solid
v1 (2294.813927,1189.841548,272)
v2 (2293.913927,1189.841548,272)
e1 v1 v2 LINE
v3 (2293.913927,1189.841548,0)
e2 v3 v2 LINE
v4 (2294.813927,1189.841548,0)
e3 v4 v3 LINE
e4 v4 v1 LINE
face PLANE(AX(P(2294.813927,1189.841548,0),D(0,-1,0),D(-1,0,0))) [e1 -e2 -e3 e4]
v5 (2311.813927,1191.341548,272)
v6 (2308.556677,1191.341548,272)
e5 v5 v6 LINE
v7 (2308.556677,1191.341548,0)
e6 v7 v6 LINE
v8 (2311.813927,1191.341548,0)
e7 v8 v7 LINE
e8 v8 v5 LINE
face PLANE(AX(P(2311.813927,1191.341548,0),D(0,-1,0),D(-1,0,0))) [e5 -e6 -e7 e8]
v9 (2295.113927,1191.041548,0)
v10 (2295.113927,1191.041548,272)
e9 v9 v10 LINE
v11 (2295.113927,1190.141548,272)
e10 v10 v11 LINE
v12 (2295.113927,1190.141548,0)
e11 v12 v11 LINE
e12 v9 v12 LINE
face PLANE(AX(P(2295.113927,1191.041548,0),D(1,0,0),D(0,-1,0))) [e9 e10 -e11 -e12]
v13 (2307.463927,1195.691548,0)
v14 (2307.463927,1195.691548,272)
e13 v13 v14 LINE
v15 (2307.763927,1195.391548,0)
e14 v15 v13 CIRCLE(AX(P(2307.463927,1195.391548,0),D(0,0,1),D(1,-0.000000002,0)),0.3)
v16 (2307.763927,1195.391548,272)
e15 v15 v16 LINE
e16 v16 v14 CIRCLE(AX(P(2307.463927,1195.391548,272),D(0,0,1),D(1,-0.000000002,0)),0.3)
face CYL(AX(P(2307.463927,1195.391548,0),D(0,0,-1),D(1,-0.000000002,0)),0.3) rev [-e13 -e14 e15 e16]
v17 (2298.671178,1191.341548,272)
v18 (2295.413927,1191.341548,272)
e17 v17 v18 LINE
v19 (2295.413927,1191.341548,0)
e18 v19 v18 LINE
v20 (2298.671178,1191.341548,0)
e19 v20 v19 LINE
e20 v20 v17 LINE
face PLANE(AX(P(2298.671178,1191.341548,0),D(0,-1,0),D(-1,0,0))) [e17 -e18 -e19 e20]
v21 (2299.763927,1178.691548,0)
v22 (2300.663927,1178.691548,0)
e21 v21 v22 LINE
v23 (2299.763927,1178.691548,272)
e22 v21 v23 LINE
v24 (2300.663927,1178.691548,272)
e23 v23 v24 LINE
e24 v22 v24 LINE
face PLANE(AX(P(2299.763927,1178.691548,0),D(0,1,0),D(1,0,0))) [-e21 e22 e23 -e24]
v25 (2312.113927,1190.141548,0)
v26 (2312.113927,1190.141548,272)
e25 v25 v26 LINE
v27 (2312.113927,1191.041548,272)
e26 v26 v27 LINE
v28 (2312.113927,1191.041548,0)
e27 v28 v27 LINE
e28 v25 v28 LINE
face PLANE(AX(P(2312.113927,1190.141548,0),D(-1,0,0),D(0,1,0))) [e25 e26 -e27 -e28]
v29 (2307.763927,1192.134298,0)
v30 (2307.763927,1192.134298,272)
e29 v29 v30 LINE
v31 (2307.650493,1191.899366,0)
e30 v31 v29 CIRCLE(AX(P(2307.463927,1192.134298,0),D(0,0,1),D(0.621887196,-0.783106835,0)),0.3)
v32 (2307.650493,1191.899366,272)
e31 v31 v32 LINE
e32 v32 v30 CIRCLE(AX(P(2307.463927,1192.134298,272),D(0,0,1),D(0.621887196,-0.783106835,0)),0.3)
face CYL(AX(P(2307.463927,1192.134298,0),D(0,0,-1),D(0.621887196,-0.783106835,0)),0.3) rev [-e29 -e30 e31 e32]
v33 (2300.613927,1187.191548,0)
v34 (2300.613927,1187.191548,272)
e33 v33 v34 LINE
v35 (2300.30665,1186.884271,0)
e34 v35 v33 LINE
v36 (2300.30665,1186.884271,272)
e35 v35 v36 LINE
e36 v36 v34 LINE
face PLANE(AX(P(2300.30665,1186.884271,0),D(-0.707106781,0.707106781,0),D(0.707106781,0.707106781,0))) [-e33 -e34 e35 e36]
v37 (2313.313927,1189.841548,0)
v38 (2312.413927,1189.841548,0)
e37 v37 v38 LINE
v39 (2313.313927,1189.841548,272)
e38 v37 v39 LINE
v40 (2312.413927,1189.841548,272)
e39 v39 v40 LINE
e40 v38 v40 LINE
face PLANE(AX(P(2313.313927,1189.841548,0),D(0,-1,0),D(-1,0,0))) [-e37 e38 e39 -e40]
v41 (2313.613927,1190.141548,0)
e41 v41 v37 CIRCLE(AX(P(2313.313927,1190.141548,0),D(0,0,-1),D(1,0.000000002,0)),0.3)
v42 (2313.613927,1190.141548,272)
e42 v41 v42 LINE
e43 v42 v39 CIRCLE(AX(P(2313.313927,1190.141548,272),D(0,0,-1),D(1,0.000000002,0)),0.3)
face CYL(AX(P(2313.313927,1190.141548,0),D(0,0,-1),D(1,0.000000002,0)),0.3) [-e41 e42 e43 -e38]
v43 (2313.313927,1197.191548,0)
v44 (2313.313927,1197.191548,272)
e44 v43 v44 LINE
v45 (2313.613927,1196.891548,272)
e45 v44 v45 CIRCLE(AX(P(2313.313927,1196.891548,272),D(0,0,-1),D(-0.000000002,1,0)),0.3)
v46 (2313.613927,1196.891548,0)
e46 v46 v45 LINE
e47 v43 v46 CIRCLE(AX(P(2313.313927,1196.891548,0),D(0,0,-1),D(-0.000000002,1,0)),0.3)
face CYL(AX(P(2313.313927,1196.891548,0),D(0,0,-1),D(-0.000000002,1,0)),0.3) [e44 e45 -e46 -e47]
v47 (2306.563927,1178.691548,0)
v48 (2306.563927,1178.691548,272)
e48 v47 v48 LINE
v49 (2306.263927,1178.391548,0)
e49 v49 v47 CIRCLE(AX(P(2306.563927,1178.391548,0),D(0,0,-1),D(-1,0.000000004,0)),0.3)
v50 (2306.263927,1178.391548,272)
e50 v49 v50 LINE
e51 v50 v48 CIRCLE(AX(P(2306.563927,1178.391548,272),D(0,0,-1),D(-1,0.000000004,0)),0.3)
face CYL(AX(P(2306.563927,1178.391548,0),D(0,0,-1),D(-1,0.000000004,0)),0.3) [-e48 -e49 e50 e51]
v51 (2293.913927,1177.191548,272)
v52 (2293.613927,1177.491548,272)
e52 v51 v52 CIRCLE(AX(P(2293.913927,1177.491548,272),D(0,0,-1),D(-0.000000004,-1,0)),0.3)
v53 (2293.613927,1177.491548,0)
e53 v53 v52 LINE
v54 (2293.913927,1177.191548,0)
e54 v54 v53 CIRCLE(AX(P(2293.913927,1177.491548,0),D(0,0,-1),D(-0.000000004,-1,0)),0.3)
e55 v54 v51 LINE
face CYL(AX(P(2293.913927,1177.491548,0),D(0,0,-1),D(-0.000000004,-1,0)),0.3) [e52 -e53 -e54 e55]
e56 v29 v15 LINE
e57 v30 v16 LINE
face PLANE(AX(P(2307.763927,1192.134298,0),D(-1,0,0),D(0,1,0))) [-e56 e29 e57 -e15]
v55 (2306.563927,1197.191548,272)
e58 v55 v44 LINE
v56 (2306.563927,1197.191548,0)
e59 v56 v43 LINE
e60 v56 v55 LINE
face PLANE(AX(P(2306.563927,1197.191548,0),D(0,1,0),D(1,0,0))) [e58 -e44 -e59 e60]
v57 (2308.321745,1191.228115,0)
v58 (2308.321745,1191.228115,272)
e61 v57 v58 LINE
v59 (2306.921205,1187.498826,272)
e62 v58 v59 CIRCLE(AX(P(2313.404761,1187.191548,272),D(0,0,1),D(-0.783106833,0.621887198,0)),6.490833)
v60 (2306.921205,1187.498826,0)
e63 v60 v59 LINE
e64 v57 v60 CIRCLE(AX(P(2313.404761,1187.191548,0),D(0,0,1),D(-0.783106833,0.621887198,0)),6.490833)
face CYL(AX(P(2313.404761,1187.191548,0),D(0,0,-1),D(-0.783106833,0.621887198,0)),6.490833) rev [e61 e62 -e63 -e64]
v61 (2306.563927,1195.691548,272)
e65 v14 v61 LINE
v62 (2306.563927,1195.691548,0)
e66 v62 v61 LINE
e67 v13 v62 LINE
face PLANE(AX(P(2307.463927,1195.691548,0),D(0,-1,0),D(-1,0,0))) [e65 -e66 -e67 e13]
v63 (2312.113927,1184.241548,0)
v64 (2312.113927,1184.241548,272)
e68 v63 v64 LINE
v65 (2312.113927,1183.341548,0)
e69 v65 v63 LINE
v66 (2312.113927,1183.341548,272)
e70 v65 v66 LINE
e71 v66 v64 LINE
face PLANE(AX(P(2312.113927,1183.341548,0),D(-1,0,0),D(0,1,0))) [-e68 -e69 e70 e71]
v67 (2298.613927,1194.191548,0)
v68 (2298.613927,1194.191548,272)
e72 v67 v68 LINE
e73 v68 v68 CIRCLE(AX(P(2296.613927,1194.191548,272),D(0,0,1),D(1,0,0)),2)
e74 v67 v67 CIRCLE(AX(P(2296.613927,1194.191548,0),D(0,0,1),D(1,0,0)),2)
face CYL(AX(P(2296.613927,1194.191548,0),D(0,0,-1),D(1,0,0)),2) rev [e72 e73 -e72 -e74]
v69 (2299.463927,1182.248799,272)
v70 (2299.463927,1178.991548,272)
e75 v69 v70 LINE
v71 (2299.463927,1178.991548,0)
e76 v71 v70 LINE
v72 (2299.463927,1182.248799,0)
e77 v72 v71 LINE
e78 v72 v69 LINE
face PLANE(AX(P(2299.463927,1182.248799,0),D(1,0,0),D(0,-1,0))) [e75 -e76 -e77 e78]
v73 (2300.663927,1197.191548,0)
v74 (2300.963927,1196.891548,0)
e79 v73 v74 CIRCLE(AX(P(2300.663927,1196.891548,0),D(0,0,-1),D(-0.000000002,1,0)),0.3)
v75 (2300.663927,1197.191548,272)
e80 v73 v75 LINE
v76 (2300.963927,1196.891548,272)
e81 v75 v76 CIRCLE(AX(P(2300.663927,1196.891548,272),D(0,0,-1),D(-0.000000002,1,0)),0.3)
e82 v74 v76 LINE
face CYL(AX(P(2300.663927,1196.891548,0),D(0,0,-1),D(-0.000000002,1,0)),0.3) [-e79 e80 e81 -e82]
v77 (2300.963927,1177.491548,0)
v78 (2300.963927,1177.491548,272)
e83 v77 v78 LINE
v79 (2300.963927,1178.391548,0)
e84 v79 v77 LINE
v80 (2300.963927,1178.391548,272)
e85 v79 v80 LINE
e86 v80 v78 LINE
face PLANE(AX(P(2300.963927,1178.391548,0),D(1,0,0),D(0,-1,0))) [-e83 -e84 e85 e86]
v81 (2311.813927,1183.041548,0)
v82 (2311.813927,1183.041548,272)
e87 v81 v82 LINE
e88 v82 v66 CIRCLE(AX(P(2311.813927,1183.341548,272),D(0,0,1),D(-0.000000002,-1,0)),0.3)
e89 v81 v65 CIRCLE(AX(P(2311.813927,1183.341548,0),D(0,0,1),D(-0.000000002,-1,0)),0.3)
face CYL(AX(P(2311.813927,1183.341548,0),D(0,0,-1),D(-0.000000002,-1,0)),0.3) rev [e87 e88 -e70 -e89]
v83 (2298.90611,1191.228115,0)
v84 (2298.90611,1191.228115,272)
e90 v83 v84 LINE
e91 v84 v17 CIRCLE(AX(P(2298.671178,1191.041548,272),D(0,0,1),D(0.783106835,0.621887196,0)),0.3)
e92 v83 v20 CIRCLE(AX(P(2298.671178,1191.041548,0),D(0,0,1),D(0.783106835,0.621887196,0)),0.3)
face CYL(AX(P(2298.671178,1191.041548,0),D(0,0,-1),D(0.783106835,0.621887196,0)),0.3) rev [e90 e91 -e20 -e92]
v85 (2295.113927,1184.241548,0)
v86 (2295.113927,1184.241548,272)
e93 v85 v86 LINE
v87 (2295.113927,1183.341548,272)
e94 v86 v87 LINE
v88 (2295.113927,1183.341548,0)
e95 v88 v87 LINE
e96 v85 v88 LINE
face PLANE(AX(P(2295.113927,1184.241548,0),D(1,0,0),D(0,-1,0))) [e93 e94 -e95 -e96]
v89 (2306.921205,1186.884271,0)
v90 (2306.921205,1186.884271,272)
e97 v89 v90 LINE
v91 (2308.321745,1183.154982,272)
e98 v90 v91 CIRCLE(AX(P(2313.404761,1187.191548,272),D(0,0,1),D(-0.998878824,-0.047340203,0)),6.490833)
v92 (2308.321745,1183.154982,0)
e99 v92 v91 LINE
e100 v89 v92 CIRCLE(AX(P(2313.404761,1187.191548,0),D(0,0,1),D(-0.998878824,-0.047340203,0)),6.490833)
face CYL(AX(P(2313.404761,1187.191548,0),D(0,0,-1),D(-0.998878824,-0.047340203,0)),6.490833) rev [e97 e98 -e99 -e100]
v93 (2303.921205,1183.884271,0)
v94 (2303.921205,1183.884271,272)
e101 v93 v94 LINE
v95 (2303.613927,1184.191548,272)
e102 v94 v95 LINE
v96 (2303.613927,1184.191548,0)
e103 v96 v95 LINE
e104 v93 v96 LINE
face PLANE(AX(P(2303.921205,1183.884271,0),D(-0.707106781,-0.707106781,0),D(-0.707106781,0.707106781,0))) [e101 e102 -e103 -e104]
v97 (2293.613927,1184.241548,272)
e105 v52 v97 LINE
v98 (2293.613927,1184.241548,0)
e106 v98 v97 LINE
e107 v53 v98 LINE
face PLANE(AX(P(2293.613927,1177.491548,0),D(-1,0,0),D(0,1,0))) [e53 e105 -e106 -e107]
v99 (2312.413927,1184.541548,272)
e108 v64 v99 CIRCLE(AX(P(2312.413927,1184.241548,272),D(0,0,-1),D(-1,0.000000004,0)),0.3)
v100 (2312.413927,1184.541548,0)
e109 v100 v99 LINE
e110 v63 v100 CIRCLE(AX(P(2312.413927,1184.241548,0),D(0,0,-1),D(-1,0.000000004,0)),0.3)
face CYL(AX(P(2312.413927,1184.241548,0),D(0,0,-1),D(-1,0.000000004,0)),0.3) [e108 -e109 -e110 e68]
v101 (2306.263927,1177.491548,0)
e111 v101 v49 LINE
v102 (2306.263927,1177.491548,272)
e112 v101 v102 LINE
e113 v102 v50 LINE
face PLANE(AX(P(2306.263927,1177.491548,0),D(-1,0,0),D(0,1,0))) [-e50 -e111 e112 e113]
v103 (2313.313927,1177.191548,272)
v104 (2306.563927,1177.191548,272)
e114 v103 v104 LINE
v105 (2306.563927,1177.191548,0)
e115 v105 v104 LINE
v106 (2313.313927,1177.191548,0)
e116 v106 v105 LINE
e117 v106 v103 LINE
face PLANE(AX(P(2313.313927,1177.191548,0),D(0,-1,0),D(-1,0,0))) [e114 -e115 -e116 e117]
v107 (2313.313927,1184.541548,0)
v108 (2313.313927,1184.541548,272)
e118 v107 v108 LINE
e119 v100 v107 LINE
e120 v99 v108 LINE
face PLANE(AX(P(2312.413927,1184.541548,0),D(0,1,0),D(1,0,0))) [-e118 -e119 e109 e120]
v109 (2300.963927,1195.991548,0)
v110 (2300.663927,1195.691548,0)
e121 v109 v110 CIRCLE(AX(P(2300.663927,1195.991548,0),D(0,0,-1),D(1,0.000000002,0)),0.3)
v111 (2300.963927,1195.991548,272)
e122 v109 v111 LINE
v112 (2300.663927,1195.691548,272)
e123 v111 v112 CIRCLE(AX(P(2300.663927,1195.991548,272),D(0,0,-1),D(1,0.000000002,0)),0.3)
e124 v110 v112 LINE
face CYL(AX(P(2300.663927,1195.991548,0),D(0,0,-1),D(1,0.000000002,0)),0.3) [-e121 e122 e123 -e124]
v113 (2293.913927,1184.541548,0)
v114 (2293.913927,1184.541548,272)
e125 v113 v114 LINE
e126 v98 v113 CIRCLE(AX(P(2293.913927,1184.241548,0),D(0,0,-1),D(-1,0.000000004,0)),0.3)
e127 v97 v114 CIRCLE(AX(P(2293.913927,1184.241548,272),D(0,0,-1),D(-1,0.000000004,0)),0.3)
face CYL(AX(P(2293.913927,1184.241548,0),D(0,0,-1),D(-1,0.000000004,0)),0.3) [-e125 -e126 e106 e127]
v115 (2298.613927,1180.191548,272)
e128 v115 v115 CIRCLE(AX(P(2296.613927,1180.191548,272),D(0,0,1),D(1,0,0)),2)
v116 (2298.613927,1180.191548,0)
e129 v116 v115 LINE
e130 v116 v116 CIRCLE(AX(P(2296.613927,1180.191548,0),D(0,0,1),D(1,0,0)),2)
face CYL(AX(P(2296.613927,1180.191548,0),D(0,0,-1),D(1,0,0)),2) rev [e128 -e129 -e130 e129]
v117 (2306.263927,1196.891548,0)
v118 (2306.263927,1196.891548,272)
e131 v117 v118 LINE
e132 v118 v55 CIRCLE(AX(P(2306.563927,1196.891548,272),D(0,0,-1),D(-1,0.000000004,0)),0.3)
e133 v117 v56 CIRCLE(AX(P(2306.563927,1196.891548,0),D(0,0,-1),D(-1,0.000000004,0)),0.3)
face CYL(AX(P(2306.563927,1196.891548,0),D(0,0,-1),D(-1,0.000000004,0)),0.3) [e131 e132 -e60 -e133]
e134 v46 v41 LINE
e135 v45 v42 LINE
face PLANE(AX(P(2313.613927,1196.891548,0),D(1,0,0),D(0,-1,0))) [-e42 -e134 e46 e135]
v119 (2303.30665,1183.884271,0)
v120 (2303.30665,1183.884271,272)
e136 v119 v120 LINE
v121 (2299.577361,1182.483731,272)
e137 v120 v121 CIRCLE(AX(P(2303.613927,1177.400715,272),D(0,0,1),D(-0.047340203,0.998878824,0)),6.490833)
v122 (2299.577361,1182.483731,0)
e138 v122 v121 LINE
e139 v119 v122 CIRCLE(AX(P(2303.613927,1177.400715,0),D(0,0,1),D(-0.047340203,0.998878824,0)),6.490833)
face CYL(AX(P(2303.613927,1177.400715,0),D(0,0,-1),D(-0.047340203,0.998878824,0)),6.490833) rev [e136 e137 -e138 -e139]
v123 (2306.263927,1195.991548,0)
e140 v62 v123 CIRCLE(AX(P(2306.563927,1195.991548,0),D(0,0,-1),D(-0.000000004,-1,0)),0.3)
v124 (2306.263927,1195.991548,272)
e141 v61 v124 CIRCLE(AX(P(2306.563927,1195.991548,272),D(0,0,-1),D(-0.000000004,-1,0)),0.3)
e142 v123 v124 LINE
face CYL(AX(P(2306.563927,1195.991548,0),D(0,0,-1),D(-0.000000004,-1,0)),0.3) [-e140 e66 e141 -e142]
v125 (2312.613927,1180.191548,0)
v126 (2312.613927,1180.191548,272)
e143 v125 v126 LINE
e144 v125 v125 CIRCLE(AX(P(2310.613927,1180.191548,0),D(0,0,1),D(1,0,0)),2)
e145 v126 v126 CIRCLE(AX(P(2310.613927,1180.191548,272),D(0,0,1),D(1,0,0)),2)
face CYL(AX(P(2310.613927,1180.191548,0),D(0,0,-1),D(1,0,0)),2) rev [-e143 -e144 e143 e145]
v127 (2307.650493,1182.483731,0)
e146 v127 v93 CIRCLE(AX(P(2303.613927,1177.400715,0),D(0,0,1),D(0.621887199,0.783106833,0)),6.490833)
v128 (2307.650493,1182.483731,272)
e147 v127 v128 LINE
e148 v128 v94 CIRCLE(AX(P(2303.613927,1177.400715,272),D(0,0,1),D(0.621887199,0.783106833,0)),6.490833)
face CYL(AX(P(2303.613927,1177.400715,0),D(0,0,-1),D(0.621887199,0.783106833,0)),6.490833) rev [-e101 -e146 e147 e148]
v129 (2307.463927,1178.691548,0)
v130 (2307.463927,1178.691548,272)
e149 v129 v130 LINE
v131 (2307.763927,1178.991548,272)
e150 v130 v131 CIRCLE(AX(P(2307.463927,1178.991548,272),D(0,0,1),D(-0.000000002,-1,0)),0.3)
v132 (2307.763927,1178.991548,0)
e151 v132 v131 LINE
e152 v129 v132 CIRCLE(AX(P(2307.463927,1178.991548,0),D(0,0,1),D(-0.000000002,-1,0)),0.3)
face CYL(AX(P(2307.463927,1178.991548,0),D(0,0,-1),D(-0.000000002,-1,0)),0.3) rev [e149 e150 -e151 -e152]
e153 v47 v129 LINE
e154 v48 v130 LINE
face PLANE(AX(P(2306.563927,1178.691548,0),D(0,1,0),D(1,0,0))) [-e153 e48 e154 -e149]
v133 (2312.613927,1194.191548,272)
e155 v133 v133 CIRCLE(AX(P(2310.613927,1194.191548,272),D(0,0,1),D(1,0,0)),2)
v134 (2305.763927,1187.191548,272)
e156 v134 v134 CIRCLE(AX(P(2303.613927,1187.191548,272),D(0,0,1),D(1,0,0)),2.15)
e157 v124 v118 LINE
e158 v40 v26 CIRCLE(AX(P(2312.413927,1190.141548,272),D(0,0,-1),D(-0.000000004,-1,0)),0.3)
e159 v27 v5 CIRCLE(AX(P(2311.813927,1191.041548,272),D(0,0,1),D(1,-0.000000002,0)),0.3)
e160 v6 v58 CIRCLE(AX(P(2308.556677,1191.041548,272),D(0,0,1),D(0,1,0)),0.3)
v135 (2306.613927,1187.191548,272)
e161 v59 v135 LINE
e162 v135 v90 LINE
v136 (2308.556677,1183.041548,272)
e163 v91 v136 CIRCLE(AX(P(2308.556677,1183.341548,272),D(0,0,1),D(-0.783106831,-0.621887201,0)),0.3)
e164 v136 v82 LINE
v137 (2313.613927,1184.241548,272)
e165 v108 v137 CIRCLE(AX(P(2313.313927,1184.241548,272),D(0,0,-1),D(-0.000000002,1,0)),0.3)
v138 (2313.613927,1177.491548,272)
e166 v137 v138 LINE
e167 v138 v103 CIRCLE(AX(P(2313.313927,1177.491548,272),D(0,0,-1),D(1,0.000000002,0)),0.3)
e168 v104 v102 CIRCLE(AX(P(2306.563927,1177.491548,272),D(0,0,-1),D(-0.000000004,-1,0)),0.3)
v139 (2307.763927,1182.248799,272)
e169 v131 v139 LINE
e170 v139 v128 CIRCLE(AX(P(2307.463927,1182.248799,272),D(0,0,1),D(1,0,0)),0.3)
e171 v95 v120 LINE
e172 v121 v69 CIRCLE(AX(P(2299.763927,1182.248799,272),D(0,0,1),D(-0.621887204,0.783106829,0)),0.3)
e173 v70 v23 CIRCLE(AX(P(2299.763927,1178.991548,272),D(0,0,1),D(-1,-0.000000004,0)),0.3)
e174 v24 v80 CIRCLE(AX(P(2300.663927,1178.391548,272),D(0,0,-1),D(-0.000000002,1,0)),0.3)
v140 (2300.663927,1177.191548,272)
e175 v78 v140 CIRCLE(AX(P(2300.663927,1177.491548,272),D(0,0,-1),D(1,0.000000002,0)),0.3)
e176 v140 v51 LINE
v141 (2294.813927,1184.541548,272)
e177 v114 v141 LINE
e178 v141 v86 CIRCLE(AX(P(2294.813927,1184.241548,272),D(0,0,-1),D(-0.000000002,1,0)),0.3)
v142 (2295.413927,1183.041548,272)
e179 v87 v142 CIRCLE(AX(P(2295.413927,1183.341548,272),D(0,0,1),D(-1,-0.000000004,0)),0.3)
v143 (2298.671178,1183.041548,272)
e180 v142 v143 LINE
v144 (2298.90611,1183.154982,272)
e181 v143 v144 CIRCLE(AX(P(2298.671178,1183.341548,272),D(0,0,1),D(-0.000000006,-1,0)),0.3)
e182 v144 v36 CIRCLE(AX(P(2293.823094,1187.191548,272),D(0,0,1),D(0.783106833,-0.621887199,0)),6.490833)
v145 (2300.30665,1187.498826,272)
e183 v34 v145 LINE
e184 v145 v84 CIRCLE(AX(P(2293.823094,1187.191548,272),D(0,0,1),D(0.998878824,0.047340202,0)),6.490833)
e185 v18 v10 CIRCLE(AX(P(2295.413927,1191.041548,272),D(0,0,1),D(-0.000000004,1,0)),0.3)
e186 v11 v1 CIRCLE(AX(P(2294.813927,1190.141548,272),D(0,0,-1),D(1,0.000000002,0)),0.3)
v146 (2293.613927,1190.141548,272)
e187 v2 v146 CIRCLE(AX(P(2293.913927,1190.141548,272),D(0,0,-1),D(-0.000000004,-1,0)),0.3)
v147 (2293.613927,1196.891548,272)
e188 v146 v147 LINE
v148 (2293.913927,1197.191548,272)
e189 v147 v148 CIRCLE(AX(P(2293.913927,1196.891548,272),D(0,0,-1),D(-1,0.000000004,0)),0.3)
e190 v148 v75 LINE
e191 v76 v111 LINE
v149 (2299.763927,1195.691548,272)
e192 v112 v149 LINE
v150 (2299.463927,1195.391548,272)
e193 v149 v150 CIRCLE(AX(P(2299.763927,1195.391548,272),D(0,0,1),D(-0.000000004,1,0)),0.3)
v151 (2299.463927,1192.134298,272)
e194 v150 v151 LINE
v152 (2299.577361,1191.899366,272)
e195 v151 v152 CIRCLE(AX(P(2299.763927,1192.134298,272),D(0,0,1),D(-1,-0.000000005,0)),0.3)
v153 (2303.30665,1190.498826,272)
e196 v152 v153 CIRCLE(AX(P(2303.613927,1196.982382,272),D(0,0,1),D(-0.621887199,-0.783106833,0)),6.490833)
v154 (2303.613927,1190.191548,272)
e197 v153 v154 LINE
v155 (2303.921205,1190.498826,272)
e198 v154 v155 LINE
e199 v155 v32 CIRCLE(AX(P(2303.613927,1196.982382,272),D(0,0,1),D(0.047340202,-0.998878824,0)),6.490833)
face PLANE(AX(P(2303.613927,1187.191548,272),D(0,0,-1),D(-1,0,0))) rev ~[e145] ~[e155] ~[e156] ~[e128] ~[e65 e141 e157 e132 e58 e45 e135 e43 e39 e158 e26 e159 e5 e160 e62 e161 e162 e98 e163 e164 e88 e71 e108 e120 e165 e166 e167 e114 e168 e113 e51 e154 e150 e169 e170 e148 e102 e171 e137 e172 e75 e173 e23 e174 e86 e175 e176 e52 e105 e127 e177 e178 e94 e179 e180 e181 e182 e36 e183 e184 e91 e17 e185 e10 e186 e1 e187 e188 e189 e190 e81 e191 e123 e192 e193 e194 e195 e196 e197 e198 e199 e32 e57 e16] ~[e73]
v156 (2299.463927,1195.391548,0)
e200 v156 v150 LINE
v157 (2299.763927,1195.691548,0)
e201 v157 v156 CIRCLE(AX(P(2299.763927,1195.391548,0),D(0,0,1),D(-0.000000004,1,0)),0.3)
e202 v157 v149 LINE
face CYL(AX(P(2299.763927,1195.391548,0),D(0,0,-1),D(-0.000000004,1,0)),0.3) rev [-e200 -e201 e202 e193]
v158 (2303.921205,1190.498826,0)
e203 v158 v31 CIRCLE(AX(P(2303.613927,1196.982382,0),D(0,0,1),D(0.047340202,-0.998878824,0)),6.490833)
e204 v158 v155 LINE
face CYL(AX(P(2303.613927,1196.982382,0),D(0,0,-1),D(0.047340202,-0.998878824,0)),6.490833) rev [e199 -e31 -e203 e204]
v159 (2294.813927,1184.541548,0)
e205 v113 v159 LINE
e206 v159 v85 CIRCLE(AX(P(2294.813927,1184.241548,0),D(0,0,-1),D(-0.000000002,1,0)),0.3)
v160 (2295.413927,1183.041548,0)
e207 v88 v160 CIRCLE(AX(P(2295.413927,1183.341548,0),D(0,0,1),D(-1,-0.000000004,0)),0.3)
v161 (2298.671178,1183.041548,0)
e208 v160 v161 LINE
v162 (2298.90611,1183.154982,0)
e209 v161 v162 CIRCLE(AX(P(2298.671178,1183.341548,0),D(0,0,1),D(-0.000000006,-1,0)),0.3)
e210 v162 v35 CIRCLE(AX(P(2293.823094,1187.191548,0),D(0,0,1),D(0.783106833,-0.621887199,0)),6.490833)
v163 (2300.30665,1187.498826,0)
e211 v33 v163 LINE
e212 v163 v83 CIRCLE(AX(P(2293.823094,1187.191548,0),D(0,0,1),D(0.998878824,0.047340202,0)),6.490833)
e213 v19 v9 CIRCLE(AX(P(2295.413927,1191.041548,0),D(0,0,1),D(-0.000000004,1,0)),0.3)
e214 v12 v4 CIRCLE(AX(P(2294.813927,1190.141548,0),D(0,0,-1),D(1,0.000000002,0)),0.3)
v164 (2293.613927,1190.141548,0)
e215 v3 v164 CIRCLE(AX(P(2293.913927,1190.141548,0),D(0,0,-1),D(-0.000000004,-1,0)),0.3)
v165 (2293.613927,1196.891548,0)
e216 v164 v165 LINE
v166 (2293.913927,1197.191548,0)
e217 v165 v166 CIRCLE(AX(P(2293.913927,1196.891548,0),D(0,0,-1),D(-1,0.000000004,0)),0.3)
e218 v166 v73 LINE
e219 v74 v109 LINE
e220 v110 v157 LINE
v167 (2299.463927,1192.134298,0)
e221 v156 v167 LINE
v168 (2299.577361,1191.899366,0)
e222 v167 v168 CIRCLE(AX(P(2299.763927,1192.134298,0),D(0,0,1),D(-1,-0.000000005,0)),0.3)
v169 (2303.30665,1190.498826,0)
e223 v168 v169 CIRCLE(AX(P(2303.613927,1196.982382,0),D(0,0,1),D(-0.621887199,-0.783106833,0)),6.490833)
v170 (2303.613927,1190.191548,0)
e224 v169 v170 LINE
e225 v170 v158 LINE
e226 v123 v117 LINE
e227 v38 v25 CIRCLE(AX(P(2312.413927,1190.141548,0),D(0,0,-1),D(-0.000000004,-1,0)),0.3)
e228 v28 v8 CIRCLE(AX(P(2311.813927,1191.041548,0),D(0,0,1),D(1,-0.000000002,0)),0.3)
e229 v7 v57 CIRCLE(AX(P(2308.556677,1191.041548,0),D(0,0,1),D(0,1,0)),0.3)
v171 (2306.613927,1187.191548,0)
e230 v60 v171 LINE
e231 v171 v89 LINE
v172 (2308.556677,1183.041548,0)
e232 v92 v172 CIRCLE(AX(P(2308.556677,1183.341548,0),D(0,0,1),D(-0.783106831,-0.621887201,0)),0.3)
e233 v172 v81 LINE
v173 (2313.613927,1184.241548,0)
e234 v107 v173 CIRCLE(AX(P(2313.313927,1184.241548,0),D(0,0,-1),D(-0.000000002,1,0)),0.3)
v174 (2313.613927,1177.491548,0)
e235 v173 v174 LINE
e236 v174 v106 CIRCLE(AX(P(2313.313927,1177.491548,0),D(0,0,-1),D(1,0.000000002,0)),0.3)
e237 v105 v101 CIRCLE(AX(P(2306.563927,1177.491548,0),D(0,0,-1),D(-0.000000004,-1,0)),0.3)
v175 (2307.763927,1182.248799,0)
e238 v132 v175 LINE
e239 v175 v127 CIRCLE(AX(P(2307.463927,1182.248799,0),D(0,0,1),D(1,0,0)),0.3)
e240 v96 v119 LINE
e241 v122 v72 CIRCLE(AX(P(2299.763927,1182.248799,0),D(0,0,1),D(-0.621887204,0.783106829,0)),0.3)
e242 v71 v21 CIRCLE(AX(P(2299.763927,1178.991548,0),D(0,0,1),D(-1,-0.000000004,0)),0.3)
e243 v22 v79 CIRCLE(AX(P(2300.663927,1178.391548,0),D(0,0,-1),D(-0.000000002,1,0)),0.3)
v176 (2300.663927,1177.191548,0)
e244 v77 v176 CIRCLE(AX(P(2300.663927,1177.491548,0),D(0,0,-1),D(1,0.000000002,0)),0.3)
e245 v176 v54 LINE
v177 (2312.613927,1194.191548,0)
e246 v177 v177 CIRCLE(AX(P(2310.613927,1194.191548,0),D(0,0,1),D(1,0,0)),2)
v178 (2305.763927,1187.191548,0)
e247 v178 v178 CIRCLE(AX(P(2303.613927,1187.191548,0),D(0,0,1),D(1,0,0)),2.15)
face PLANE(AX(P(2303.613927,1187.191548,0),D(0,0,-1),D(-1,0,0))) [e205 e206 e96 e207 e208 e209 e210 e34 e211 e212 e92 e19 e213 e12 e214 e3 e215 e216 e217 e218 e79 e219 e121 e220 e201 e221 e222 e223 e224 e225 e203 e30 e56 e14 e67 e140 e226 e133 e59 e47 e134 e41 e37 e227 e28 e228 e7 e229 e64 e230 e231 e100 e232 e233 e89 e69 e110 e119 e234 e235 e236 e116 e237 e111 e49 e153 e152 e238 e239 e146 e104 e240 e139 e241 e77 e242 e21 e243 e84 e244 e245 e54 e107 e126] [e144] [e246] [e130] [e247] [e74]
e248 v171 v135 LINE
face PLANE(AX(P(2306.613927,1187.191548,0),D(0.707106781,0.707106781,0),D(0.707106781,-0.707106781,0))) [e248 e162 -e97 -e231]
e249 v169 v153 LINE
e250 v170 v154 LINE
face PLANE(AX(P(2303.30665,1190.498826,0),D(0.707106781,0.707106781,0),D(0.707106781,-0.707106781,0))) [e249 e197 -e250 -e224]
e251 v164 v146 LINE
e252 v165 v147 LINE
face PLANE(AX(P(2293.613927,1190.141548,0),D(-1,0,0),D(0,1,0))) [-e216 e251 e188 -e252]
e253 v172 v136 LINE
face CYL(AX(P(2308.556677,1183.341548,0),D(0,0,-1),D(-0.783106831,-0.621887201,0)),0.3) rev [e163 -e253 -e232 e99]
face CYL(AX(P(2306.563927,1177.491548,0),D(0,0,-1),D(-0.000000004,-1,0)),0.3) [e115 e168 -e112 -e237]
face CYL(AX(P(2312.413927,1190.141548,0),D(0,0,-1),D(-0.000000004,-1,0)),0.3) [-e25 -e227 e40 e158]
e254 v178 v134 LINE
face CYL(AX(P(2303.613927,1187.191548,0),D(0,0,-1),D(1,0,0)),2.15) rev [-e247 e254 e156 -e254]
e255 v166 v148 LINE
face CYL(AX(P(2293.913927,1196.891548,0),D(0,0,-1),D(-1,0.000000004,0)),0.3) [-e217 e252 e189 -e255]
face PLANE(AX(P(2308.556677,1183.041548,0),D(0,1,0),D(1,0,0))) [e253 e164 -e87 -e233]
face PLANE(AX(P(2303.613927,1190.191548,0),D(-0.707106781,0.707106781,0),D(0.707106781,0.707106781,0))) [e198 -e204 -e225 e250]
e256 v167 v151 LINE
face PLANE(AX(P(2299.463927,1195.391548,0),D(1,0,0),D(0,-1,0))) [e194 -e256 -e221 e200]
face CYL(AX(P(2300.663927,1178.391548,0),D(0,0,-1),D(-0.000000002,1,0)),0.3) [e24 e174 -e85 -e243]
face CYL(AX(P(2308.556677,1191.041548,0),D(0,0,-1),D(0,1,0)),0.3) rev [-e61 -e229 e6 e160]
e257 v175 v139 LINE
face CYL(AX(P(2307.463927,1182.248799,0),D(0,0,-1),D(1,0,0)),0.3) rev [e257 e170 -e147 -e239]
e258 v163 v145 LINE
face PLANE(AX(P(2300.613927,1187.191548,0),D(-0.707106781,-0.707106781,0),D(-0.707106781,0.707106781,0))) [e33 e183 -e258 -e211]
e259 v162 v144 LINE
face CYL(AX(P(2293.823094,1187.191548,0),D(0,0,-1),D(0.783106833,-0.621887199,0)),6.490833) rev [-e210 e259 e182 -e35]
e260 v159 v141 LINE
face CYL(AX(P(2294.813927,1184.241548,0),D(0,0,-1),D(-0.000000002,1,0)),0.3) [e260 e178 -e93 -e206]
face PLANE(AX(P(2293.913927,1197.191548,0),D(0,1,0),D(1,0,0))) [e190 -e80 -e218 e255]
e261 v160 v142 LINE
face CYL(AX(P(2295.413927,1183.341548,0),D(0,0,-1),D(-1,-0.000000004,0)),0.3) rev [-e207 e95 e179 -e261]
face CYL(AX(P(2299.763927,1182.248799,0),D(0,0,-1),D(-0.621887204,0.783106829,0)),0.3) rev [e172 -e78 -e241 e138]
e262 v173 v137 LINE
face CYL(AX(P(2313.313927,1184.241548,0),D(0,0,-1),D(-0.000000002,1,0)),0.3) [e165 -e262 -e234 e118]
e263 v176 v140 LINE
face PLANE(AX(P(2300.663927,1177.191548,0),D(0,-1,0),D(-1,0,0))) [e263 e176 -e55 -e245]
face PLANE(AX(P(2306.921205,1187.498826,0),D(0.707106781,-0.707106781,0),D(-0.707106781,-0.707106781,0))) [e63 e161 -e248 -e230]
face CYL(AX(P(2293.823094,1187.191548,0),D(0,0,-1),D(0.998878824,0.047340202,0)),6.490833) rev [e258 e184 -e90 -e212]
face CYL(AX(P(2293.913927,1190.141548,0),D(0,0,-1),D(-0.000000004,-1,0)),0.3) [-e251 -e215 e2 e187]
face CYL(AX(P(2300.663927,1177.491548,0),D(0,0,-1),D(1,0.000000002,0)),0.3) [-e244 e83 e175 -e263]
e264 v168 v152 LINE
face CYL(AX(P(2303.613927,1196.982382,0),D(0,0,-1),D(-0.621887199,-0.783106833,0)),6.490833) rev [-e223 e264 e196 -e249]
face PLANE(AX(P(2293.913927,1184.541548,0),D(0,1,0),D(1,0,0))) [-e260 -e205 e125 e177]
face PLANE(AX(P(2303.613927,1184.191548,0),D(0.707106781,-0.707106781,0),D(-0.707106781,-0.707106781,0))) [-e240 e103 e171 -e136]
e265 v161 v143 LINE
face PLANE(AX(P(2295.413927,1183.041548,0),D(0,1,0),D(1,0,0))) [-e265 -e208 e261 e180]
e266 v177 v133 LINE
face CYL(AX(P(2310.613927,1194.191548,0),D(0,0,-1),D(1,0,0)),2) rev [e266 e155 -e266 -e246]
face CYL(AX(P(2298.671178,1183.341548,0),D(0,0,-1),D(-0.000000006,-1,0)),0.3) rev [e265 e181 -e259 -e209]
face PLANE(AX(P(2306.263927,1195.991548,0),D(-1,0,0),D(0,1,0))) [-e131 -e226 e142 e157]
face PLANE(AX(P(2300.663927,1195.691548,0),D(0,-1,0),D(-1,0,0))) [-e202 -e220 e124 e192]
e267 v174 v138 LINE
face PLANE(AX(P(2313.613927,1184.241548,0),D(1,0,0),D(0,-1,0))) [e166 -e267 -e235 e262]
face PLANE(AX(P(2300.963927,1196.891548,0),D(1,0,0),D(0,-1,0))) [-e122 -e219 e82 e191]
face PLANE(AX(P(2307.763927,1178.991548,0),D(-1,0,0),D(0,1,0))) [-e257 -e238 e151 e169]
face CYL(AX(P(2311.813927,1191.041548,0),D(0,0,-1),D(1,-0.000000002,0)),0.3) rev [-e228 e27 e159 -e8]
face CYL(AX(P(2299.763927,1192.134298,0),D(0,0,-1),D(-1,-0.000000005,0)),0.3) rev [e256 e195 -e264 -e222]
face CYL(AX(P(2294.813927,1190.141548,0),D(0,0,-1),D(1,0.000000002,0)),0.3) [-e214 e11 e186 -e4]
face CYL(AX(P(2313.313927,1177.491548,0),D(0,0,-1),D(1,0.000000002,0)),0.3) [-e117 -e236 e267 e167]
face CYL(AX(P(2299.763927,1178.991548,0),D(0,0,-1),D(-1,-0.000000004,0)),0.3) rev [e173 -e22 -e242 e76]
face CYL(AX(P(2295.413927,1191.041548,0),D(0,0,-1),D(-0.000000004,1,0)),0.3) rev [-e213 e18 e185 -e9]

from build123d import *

# Parameters (mm, degrees)
MODEL_R         = 2.15
MODEL_R_2       = 2
EXTRUDE_1_DEPTH = 272


with BuildPart() as part:
    # Model → 보스-돌출1 (new body)
    with BuildSketch(Plane.XY):
        with BuildLine():
            Line((2307.763927197, 1192.134297913), (2307.763927197, 1195.391548465))
            ThreePointArc((2307.763927197, 1195.391548465), (2307.676059232, 1195.603680499), (2307.463927197, 1195.691548465))
            Line((2307.463927197, 1195.691548465), (2306.563927197, 1195.691548465))
            ThreePointArc((2306.563927197, 1195.691548465), (2306.351795163, 1195.779416431), (2306.263927197, 1195.991548465))
            Line((2306.263927197, 1195.991548465), (2306.263927197, 1196.891548465))
            ThreePointArc((2306.263927197, 1196.891548465), (2306.351795163, 1197.103680499), (2306.563927197, 1197.191548465))
            Line((2306.563927197, 1197.191548465), (2313.313927197, 1197.191548465))
            ThreePointArc((2313.313927197, 1197.191548465), (2313.526059232, 1197.103680499), (2313.613927197, 1196.891548465))
            Line((2313.613927197, 1196.891548465), (2313.613927197, 1190.141548465))
            ThreePointArc((2313.613927197, 1190.141548465), (2313.526059232, 1189.929416431), (2313.313927197, 1189.841548465))
            Line((2313.313927197, 1189.841548465), (2312.413927197, 1189.841548465))
            ThreePointArc((2312.413927197, 1189.841548465), (2312.201795163, 1189.929416431), (2312.113927197, 1190.141548465))
            Line((2312.113927197, 1190.141548465), (2312.113927197, 1191.041548465))
            ThreePointArc((2312.113927197, 1191.041548465), (2312.026059232, 1191.253680499), (2311.813927197, 1191.341548465))
            Line((2311.813927197, 1191.341548465), (2308.556676645, 1191.341548465))
            ThreePointArc((2308.556676645, 1191.341548465), (2308.426234796, 1191.311705686), (2308.321744595, 1191.228114625))
            ThreePointArc((2308.321744595, 1191.228114625), (2307.328306374, 1189.47356999), (2306.921204563, 1187.498825831))
            Line((2306.921204563, 1187.498825831), (2306.613927197, 1187.191548465))
            Line((2306.613927197, 1187.191548465), (2306.921204563, 1186.884271099))
            ThreePointArc((2306.921204563, 1186.884271099), (2307.328306374, 1184.90952694), (2308.321744595, 1183.154982305))
            ThreePointArc((2308.321744595, 1183.154982305), (2308.426234796, 1183.071391244), (2308.556676645, 1183.041548465))
            Line((2308.556676645, 1183.041548465), (2311.813927197, 1183.041548465))
            ThreePointArc((2311.813927197, 1183.041548465), (2312.026059232, 1183.129416431), (2312.113927197, 1183.341548465))
            Line((2312.113927197, 1183.341548465), (2312.113927197, 1184.241548465))
            ThreePointArc((2312.113927197, 1184.241548465), (2312.201795163, 1184.453680499), (2312.413927197, 1184.541548465))
            Line((2312.413927197, 1184.541548465), (2313.313927197, 1184.541548465))
            ThreePointArc((2313.313927197, 1184.541548465), (2313.526059232, 1184.453680499), (2313.613927197, 1184.241548465))
            Line((2313.613927197, 1184.241548465), (2313.613927197, 1177.491548465))
            ThreePointArc((2313.613927197, 1177.491548465), (2313.526059232, 1177.279416431), (2313.313927197, 1177.191548465))
            Line((2313.313927197, 1177.191548465), (2306.563927197, 1177.191548465))
            ThreePointArc((2306.563927197, 1177.191548465), (2306.351795163, 1177.279416431), (2306.263927197, 1177.491548465))
            Line((2306.263927197, 1177.491548465), (2306.263927197, 1178.391548465))
            ThreePointArc((2306.263927197, 1178.391548465), (2306.351795163, 1178.603680499), (2306.563927197, 1178.691548465))
            Line((2306.563927197, 1178.691548465), (2307.463927197, 1178.691548465))
            ThreePointArc((2307.463927197, 1178.691548465), (2307.676059232, 1178.779416431), (2307.763927197, 1178.991548465))
            Line((2307.763927197, 1178.991548465), (2307.763927197, 1182.248799017))
            ThreePointArc((2307.763927197, 1182.248799017), (2307.734084418, 1182.379240866), (2307.650493357, 1182.483731067))
            ThreePointArc((2307.650493357, 1182.483731067), (2305.895948722, 1183.477169289), (2303.921204563, 1183.884271099))
            Line((2303.921204563, 1183.884271099), (2303.613927197, 1184.191548465))
            Line((2303.613927197, 1184.191548465), (2303.306649831, 1183.884271099))
            ThreePointArc((2303.306649831, 1183.884271099), (2301.331905673, 1183.477169289), (2299.577361038, 1182.483731067))
            ThreePointArc((2299.577361038, 1182.483731067), (2299.493769977, 1182.379240866), (2299.463927197, 1182.248799017))
            Line((2299.463927197, 1182.248799017), (2299.463927197, 1178.991548465))
            ThreePointArc((2299.463927197, 1178.991548465), (2299.551795163, 1178.779416431), (2299.763927197, 1178.691548465))
            Line((2299.763927197, 1178.691548465), (2300.663927197, 1178.691548465))
            ThreePointArc((2300.663927197, 1178.691548465), (2300.876059232, 1178.603680499), (2300.963927197, 1178.391548465))
            Line((2300.963927197, 1178.391548465), (2300.963927197, 1177.491548465))
            ThreePointArc((2300.963927197, 1177.491548465), (2300.876059232, 1177.279416431), (2300.663927197, 1177.191548465))
            Line((2300.663927197, 1177.191548465), (2293.913927197, 1177.191548465))
            ThreePointArc((2293.913927197, 1177.191548465), (2293.701795163, 1177.279416431), (2293.613927197, 1177.491548465))
            Line((2293.613927197, 1177.491548465), (2293.613927197, 1184.241548465))
            ThreePointArc((2293.613927197, 1184.241548465), (2293.701795163, 1184.453680499), (2293.913927197, 1184.541548465))
            Line((2293.913927197, 1184.541548465), (2294.813927197, 1184.541548465))
            ThreePointArc((2294.813927197, 1184.541548465), (2295.026059232, 1184.453680499), (2295.113927197, 1184.241548465))
            Line((2295.113927197, 1184.241548465), (2295.113927197, 1183.341548465))
            ThreePointArc((2295.113927197, 1183.341548465), (2295.201795163, 1183.129416431), (2295.413927197, 1183.041548465))
            Line((2295.413927197, 1183.041548465), (2298.671177749, 1183.041548465))
            ThreePointArc((2298.671177749, 1183.041548465), (2298.801619599, 1183.071391244), (2298.906109799, 1183.154982305))
            ThreePointArc((2298.906109799, 1183.154982305), (2299.899548021, 1184.90952694), (2300.306649831, 1186.884271099))
            Line((2300.306649831, 1186.884271099), (2300.613927197, 1187.191548465))
            Line((2300.613927197, 1187.191548465), (2300.306649831, 1187.498825831))
            ThreePointArc((2300.306649831, 1187.498825831), (2299.899548021, 1189.47356999), (2298.906109799, 1191.228114625))
            ThreePointArc((2298.906109799, 1191.228114625), (2298.801619599, 1191.311705686), (2298.671177749, 1191.341548465))
            Line((2298.671177749, 1191.341548465), (2295.413927197, 1191.341548465))
            ThreePointArc((2295.413927197, 1191.341548465), (2295.201795163, 1191.253680499), (2295.113927197, 1191.041548465))
            Line((2295.113927197, 1191.041548465), (2295.113927197, 1190.141548465))
            ThreePointArc((2295.113927197, 1190.141548465), (2295.026059232, 1189.929416431), (2294.813927197, 1189.841548465))
            Line((2294.813927197, 1189.841548465), (2293.913927197, 1189.841548465))
            ThreePointArc((2293.913927197, 1189.841548465), (2293.701795163, 1189.929416431), (2293.613927197, 1190.141548465))
            Line((2293.613927197, 1190.141548465), (2293.613927197, 1196.891548465))
            ThreePointArc((2293.613927197, 1196.891548465), (2293.701795163, 1197.103680499), (2293.913927197, 1197.191548465))
            Line((2293.913927197, 1197.191548465), (2300.663927197, 1197.191548465))
            ThreePointArc((2300.663927197, 1197.191548465), (2300.876059232, 1197.103680499), (2300.963927197, 1196.891548465))
            Line((2300.963927197, 1196.891548465), (2300.963927197, 1195.991548465))
            ThreePointArc((2300.963927197, 1195.991548465), (2300.876059232, 1195.779416431), (2300.663927197, 1195.691548465))
            Line((2300.663927197, 1195.691548465), (2299.763927197, 1195.691548465))
            ThreePointArc((2299.763927197, 1195.691548465), (2299.551795163, 1195.603680499), (2299.463927197, 1195.391548465))
            Line((2299.463927197, 1195.391548465), (2299.463927197, 1192.134297913))
            ThreePointArc((2299.463927197, 1192.134297913), (2299.493769977, 1192.003856063), (2299.577361038, 1191.899365863))
            ThreePointArc((2299.577361038, 1191.899365863), (2301.331905673, 1190.905927641), (2303.306649831, 1190.498825831))
            Line((2303.306649831, 1190.498825831), (2303.613927197, 1190.191548465))
            Line((2303.613927197, 1190.191548465), (2303.921204563, 1190.498825831))
            ThreePointArc((2303.921204563, 1190.498825831), (2305.895948722, 1190.905927641), (2307.650493357, 1191.899365863))
            ThreePointArc((2307.650493357, 1191.899365863), (2307.734084418, 1192.003856063), (2307.763927197, 1192.134297913))
        make_face()
        with Locations((2303.613927197, 1187.191548465)):
            Circle(MODEL_R, mode=Mode.SUBTRACT)
        with Locations((2296.613927197, 1194.191548465)):
            Circle(MODEL_R_2, mode=Mode.SUBTRACT)
        with Locations((2296.613927197, 1180.191548465)):
            Circle(MODEL_R_2, mode=Mode.SUBTRACT)
        with Locations((2310.613927197, 1194.191548465)):
            Circle(MODEL_R_2, mode=Mode.SUBTRACT)
        with Locations((2310.613927197, 1180.191548465)):
            Circle(MODEL_R_2, mode=Mode.SUBTRACT)
    extrude(amount=EXTRUDE_1_DEPTH)


solid = part.part
